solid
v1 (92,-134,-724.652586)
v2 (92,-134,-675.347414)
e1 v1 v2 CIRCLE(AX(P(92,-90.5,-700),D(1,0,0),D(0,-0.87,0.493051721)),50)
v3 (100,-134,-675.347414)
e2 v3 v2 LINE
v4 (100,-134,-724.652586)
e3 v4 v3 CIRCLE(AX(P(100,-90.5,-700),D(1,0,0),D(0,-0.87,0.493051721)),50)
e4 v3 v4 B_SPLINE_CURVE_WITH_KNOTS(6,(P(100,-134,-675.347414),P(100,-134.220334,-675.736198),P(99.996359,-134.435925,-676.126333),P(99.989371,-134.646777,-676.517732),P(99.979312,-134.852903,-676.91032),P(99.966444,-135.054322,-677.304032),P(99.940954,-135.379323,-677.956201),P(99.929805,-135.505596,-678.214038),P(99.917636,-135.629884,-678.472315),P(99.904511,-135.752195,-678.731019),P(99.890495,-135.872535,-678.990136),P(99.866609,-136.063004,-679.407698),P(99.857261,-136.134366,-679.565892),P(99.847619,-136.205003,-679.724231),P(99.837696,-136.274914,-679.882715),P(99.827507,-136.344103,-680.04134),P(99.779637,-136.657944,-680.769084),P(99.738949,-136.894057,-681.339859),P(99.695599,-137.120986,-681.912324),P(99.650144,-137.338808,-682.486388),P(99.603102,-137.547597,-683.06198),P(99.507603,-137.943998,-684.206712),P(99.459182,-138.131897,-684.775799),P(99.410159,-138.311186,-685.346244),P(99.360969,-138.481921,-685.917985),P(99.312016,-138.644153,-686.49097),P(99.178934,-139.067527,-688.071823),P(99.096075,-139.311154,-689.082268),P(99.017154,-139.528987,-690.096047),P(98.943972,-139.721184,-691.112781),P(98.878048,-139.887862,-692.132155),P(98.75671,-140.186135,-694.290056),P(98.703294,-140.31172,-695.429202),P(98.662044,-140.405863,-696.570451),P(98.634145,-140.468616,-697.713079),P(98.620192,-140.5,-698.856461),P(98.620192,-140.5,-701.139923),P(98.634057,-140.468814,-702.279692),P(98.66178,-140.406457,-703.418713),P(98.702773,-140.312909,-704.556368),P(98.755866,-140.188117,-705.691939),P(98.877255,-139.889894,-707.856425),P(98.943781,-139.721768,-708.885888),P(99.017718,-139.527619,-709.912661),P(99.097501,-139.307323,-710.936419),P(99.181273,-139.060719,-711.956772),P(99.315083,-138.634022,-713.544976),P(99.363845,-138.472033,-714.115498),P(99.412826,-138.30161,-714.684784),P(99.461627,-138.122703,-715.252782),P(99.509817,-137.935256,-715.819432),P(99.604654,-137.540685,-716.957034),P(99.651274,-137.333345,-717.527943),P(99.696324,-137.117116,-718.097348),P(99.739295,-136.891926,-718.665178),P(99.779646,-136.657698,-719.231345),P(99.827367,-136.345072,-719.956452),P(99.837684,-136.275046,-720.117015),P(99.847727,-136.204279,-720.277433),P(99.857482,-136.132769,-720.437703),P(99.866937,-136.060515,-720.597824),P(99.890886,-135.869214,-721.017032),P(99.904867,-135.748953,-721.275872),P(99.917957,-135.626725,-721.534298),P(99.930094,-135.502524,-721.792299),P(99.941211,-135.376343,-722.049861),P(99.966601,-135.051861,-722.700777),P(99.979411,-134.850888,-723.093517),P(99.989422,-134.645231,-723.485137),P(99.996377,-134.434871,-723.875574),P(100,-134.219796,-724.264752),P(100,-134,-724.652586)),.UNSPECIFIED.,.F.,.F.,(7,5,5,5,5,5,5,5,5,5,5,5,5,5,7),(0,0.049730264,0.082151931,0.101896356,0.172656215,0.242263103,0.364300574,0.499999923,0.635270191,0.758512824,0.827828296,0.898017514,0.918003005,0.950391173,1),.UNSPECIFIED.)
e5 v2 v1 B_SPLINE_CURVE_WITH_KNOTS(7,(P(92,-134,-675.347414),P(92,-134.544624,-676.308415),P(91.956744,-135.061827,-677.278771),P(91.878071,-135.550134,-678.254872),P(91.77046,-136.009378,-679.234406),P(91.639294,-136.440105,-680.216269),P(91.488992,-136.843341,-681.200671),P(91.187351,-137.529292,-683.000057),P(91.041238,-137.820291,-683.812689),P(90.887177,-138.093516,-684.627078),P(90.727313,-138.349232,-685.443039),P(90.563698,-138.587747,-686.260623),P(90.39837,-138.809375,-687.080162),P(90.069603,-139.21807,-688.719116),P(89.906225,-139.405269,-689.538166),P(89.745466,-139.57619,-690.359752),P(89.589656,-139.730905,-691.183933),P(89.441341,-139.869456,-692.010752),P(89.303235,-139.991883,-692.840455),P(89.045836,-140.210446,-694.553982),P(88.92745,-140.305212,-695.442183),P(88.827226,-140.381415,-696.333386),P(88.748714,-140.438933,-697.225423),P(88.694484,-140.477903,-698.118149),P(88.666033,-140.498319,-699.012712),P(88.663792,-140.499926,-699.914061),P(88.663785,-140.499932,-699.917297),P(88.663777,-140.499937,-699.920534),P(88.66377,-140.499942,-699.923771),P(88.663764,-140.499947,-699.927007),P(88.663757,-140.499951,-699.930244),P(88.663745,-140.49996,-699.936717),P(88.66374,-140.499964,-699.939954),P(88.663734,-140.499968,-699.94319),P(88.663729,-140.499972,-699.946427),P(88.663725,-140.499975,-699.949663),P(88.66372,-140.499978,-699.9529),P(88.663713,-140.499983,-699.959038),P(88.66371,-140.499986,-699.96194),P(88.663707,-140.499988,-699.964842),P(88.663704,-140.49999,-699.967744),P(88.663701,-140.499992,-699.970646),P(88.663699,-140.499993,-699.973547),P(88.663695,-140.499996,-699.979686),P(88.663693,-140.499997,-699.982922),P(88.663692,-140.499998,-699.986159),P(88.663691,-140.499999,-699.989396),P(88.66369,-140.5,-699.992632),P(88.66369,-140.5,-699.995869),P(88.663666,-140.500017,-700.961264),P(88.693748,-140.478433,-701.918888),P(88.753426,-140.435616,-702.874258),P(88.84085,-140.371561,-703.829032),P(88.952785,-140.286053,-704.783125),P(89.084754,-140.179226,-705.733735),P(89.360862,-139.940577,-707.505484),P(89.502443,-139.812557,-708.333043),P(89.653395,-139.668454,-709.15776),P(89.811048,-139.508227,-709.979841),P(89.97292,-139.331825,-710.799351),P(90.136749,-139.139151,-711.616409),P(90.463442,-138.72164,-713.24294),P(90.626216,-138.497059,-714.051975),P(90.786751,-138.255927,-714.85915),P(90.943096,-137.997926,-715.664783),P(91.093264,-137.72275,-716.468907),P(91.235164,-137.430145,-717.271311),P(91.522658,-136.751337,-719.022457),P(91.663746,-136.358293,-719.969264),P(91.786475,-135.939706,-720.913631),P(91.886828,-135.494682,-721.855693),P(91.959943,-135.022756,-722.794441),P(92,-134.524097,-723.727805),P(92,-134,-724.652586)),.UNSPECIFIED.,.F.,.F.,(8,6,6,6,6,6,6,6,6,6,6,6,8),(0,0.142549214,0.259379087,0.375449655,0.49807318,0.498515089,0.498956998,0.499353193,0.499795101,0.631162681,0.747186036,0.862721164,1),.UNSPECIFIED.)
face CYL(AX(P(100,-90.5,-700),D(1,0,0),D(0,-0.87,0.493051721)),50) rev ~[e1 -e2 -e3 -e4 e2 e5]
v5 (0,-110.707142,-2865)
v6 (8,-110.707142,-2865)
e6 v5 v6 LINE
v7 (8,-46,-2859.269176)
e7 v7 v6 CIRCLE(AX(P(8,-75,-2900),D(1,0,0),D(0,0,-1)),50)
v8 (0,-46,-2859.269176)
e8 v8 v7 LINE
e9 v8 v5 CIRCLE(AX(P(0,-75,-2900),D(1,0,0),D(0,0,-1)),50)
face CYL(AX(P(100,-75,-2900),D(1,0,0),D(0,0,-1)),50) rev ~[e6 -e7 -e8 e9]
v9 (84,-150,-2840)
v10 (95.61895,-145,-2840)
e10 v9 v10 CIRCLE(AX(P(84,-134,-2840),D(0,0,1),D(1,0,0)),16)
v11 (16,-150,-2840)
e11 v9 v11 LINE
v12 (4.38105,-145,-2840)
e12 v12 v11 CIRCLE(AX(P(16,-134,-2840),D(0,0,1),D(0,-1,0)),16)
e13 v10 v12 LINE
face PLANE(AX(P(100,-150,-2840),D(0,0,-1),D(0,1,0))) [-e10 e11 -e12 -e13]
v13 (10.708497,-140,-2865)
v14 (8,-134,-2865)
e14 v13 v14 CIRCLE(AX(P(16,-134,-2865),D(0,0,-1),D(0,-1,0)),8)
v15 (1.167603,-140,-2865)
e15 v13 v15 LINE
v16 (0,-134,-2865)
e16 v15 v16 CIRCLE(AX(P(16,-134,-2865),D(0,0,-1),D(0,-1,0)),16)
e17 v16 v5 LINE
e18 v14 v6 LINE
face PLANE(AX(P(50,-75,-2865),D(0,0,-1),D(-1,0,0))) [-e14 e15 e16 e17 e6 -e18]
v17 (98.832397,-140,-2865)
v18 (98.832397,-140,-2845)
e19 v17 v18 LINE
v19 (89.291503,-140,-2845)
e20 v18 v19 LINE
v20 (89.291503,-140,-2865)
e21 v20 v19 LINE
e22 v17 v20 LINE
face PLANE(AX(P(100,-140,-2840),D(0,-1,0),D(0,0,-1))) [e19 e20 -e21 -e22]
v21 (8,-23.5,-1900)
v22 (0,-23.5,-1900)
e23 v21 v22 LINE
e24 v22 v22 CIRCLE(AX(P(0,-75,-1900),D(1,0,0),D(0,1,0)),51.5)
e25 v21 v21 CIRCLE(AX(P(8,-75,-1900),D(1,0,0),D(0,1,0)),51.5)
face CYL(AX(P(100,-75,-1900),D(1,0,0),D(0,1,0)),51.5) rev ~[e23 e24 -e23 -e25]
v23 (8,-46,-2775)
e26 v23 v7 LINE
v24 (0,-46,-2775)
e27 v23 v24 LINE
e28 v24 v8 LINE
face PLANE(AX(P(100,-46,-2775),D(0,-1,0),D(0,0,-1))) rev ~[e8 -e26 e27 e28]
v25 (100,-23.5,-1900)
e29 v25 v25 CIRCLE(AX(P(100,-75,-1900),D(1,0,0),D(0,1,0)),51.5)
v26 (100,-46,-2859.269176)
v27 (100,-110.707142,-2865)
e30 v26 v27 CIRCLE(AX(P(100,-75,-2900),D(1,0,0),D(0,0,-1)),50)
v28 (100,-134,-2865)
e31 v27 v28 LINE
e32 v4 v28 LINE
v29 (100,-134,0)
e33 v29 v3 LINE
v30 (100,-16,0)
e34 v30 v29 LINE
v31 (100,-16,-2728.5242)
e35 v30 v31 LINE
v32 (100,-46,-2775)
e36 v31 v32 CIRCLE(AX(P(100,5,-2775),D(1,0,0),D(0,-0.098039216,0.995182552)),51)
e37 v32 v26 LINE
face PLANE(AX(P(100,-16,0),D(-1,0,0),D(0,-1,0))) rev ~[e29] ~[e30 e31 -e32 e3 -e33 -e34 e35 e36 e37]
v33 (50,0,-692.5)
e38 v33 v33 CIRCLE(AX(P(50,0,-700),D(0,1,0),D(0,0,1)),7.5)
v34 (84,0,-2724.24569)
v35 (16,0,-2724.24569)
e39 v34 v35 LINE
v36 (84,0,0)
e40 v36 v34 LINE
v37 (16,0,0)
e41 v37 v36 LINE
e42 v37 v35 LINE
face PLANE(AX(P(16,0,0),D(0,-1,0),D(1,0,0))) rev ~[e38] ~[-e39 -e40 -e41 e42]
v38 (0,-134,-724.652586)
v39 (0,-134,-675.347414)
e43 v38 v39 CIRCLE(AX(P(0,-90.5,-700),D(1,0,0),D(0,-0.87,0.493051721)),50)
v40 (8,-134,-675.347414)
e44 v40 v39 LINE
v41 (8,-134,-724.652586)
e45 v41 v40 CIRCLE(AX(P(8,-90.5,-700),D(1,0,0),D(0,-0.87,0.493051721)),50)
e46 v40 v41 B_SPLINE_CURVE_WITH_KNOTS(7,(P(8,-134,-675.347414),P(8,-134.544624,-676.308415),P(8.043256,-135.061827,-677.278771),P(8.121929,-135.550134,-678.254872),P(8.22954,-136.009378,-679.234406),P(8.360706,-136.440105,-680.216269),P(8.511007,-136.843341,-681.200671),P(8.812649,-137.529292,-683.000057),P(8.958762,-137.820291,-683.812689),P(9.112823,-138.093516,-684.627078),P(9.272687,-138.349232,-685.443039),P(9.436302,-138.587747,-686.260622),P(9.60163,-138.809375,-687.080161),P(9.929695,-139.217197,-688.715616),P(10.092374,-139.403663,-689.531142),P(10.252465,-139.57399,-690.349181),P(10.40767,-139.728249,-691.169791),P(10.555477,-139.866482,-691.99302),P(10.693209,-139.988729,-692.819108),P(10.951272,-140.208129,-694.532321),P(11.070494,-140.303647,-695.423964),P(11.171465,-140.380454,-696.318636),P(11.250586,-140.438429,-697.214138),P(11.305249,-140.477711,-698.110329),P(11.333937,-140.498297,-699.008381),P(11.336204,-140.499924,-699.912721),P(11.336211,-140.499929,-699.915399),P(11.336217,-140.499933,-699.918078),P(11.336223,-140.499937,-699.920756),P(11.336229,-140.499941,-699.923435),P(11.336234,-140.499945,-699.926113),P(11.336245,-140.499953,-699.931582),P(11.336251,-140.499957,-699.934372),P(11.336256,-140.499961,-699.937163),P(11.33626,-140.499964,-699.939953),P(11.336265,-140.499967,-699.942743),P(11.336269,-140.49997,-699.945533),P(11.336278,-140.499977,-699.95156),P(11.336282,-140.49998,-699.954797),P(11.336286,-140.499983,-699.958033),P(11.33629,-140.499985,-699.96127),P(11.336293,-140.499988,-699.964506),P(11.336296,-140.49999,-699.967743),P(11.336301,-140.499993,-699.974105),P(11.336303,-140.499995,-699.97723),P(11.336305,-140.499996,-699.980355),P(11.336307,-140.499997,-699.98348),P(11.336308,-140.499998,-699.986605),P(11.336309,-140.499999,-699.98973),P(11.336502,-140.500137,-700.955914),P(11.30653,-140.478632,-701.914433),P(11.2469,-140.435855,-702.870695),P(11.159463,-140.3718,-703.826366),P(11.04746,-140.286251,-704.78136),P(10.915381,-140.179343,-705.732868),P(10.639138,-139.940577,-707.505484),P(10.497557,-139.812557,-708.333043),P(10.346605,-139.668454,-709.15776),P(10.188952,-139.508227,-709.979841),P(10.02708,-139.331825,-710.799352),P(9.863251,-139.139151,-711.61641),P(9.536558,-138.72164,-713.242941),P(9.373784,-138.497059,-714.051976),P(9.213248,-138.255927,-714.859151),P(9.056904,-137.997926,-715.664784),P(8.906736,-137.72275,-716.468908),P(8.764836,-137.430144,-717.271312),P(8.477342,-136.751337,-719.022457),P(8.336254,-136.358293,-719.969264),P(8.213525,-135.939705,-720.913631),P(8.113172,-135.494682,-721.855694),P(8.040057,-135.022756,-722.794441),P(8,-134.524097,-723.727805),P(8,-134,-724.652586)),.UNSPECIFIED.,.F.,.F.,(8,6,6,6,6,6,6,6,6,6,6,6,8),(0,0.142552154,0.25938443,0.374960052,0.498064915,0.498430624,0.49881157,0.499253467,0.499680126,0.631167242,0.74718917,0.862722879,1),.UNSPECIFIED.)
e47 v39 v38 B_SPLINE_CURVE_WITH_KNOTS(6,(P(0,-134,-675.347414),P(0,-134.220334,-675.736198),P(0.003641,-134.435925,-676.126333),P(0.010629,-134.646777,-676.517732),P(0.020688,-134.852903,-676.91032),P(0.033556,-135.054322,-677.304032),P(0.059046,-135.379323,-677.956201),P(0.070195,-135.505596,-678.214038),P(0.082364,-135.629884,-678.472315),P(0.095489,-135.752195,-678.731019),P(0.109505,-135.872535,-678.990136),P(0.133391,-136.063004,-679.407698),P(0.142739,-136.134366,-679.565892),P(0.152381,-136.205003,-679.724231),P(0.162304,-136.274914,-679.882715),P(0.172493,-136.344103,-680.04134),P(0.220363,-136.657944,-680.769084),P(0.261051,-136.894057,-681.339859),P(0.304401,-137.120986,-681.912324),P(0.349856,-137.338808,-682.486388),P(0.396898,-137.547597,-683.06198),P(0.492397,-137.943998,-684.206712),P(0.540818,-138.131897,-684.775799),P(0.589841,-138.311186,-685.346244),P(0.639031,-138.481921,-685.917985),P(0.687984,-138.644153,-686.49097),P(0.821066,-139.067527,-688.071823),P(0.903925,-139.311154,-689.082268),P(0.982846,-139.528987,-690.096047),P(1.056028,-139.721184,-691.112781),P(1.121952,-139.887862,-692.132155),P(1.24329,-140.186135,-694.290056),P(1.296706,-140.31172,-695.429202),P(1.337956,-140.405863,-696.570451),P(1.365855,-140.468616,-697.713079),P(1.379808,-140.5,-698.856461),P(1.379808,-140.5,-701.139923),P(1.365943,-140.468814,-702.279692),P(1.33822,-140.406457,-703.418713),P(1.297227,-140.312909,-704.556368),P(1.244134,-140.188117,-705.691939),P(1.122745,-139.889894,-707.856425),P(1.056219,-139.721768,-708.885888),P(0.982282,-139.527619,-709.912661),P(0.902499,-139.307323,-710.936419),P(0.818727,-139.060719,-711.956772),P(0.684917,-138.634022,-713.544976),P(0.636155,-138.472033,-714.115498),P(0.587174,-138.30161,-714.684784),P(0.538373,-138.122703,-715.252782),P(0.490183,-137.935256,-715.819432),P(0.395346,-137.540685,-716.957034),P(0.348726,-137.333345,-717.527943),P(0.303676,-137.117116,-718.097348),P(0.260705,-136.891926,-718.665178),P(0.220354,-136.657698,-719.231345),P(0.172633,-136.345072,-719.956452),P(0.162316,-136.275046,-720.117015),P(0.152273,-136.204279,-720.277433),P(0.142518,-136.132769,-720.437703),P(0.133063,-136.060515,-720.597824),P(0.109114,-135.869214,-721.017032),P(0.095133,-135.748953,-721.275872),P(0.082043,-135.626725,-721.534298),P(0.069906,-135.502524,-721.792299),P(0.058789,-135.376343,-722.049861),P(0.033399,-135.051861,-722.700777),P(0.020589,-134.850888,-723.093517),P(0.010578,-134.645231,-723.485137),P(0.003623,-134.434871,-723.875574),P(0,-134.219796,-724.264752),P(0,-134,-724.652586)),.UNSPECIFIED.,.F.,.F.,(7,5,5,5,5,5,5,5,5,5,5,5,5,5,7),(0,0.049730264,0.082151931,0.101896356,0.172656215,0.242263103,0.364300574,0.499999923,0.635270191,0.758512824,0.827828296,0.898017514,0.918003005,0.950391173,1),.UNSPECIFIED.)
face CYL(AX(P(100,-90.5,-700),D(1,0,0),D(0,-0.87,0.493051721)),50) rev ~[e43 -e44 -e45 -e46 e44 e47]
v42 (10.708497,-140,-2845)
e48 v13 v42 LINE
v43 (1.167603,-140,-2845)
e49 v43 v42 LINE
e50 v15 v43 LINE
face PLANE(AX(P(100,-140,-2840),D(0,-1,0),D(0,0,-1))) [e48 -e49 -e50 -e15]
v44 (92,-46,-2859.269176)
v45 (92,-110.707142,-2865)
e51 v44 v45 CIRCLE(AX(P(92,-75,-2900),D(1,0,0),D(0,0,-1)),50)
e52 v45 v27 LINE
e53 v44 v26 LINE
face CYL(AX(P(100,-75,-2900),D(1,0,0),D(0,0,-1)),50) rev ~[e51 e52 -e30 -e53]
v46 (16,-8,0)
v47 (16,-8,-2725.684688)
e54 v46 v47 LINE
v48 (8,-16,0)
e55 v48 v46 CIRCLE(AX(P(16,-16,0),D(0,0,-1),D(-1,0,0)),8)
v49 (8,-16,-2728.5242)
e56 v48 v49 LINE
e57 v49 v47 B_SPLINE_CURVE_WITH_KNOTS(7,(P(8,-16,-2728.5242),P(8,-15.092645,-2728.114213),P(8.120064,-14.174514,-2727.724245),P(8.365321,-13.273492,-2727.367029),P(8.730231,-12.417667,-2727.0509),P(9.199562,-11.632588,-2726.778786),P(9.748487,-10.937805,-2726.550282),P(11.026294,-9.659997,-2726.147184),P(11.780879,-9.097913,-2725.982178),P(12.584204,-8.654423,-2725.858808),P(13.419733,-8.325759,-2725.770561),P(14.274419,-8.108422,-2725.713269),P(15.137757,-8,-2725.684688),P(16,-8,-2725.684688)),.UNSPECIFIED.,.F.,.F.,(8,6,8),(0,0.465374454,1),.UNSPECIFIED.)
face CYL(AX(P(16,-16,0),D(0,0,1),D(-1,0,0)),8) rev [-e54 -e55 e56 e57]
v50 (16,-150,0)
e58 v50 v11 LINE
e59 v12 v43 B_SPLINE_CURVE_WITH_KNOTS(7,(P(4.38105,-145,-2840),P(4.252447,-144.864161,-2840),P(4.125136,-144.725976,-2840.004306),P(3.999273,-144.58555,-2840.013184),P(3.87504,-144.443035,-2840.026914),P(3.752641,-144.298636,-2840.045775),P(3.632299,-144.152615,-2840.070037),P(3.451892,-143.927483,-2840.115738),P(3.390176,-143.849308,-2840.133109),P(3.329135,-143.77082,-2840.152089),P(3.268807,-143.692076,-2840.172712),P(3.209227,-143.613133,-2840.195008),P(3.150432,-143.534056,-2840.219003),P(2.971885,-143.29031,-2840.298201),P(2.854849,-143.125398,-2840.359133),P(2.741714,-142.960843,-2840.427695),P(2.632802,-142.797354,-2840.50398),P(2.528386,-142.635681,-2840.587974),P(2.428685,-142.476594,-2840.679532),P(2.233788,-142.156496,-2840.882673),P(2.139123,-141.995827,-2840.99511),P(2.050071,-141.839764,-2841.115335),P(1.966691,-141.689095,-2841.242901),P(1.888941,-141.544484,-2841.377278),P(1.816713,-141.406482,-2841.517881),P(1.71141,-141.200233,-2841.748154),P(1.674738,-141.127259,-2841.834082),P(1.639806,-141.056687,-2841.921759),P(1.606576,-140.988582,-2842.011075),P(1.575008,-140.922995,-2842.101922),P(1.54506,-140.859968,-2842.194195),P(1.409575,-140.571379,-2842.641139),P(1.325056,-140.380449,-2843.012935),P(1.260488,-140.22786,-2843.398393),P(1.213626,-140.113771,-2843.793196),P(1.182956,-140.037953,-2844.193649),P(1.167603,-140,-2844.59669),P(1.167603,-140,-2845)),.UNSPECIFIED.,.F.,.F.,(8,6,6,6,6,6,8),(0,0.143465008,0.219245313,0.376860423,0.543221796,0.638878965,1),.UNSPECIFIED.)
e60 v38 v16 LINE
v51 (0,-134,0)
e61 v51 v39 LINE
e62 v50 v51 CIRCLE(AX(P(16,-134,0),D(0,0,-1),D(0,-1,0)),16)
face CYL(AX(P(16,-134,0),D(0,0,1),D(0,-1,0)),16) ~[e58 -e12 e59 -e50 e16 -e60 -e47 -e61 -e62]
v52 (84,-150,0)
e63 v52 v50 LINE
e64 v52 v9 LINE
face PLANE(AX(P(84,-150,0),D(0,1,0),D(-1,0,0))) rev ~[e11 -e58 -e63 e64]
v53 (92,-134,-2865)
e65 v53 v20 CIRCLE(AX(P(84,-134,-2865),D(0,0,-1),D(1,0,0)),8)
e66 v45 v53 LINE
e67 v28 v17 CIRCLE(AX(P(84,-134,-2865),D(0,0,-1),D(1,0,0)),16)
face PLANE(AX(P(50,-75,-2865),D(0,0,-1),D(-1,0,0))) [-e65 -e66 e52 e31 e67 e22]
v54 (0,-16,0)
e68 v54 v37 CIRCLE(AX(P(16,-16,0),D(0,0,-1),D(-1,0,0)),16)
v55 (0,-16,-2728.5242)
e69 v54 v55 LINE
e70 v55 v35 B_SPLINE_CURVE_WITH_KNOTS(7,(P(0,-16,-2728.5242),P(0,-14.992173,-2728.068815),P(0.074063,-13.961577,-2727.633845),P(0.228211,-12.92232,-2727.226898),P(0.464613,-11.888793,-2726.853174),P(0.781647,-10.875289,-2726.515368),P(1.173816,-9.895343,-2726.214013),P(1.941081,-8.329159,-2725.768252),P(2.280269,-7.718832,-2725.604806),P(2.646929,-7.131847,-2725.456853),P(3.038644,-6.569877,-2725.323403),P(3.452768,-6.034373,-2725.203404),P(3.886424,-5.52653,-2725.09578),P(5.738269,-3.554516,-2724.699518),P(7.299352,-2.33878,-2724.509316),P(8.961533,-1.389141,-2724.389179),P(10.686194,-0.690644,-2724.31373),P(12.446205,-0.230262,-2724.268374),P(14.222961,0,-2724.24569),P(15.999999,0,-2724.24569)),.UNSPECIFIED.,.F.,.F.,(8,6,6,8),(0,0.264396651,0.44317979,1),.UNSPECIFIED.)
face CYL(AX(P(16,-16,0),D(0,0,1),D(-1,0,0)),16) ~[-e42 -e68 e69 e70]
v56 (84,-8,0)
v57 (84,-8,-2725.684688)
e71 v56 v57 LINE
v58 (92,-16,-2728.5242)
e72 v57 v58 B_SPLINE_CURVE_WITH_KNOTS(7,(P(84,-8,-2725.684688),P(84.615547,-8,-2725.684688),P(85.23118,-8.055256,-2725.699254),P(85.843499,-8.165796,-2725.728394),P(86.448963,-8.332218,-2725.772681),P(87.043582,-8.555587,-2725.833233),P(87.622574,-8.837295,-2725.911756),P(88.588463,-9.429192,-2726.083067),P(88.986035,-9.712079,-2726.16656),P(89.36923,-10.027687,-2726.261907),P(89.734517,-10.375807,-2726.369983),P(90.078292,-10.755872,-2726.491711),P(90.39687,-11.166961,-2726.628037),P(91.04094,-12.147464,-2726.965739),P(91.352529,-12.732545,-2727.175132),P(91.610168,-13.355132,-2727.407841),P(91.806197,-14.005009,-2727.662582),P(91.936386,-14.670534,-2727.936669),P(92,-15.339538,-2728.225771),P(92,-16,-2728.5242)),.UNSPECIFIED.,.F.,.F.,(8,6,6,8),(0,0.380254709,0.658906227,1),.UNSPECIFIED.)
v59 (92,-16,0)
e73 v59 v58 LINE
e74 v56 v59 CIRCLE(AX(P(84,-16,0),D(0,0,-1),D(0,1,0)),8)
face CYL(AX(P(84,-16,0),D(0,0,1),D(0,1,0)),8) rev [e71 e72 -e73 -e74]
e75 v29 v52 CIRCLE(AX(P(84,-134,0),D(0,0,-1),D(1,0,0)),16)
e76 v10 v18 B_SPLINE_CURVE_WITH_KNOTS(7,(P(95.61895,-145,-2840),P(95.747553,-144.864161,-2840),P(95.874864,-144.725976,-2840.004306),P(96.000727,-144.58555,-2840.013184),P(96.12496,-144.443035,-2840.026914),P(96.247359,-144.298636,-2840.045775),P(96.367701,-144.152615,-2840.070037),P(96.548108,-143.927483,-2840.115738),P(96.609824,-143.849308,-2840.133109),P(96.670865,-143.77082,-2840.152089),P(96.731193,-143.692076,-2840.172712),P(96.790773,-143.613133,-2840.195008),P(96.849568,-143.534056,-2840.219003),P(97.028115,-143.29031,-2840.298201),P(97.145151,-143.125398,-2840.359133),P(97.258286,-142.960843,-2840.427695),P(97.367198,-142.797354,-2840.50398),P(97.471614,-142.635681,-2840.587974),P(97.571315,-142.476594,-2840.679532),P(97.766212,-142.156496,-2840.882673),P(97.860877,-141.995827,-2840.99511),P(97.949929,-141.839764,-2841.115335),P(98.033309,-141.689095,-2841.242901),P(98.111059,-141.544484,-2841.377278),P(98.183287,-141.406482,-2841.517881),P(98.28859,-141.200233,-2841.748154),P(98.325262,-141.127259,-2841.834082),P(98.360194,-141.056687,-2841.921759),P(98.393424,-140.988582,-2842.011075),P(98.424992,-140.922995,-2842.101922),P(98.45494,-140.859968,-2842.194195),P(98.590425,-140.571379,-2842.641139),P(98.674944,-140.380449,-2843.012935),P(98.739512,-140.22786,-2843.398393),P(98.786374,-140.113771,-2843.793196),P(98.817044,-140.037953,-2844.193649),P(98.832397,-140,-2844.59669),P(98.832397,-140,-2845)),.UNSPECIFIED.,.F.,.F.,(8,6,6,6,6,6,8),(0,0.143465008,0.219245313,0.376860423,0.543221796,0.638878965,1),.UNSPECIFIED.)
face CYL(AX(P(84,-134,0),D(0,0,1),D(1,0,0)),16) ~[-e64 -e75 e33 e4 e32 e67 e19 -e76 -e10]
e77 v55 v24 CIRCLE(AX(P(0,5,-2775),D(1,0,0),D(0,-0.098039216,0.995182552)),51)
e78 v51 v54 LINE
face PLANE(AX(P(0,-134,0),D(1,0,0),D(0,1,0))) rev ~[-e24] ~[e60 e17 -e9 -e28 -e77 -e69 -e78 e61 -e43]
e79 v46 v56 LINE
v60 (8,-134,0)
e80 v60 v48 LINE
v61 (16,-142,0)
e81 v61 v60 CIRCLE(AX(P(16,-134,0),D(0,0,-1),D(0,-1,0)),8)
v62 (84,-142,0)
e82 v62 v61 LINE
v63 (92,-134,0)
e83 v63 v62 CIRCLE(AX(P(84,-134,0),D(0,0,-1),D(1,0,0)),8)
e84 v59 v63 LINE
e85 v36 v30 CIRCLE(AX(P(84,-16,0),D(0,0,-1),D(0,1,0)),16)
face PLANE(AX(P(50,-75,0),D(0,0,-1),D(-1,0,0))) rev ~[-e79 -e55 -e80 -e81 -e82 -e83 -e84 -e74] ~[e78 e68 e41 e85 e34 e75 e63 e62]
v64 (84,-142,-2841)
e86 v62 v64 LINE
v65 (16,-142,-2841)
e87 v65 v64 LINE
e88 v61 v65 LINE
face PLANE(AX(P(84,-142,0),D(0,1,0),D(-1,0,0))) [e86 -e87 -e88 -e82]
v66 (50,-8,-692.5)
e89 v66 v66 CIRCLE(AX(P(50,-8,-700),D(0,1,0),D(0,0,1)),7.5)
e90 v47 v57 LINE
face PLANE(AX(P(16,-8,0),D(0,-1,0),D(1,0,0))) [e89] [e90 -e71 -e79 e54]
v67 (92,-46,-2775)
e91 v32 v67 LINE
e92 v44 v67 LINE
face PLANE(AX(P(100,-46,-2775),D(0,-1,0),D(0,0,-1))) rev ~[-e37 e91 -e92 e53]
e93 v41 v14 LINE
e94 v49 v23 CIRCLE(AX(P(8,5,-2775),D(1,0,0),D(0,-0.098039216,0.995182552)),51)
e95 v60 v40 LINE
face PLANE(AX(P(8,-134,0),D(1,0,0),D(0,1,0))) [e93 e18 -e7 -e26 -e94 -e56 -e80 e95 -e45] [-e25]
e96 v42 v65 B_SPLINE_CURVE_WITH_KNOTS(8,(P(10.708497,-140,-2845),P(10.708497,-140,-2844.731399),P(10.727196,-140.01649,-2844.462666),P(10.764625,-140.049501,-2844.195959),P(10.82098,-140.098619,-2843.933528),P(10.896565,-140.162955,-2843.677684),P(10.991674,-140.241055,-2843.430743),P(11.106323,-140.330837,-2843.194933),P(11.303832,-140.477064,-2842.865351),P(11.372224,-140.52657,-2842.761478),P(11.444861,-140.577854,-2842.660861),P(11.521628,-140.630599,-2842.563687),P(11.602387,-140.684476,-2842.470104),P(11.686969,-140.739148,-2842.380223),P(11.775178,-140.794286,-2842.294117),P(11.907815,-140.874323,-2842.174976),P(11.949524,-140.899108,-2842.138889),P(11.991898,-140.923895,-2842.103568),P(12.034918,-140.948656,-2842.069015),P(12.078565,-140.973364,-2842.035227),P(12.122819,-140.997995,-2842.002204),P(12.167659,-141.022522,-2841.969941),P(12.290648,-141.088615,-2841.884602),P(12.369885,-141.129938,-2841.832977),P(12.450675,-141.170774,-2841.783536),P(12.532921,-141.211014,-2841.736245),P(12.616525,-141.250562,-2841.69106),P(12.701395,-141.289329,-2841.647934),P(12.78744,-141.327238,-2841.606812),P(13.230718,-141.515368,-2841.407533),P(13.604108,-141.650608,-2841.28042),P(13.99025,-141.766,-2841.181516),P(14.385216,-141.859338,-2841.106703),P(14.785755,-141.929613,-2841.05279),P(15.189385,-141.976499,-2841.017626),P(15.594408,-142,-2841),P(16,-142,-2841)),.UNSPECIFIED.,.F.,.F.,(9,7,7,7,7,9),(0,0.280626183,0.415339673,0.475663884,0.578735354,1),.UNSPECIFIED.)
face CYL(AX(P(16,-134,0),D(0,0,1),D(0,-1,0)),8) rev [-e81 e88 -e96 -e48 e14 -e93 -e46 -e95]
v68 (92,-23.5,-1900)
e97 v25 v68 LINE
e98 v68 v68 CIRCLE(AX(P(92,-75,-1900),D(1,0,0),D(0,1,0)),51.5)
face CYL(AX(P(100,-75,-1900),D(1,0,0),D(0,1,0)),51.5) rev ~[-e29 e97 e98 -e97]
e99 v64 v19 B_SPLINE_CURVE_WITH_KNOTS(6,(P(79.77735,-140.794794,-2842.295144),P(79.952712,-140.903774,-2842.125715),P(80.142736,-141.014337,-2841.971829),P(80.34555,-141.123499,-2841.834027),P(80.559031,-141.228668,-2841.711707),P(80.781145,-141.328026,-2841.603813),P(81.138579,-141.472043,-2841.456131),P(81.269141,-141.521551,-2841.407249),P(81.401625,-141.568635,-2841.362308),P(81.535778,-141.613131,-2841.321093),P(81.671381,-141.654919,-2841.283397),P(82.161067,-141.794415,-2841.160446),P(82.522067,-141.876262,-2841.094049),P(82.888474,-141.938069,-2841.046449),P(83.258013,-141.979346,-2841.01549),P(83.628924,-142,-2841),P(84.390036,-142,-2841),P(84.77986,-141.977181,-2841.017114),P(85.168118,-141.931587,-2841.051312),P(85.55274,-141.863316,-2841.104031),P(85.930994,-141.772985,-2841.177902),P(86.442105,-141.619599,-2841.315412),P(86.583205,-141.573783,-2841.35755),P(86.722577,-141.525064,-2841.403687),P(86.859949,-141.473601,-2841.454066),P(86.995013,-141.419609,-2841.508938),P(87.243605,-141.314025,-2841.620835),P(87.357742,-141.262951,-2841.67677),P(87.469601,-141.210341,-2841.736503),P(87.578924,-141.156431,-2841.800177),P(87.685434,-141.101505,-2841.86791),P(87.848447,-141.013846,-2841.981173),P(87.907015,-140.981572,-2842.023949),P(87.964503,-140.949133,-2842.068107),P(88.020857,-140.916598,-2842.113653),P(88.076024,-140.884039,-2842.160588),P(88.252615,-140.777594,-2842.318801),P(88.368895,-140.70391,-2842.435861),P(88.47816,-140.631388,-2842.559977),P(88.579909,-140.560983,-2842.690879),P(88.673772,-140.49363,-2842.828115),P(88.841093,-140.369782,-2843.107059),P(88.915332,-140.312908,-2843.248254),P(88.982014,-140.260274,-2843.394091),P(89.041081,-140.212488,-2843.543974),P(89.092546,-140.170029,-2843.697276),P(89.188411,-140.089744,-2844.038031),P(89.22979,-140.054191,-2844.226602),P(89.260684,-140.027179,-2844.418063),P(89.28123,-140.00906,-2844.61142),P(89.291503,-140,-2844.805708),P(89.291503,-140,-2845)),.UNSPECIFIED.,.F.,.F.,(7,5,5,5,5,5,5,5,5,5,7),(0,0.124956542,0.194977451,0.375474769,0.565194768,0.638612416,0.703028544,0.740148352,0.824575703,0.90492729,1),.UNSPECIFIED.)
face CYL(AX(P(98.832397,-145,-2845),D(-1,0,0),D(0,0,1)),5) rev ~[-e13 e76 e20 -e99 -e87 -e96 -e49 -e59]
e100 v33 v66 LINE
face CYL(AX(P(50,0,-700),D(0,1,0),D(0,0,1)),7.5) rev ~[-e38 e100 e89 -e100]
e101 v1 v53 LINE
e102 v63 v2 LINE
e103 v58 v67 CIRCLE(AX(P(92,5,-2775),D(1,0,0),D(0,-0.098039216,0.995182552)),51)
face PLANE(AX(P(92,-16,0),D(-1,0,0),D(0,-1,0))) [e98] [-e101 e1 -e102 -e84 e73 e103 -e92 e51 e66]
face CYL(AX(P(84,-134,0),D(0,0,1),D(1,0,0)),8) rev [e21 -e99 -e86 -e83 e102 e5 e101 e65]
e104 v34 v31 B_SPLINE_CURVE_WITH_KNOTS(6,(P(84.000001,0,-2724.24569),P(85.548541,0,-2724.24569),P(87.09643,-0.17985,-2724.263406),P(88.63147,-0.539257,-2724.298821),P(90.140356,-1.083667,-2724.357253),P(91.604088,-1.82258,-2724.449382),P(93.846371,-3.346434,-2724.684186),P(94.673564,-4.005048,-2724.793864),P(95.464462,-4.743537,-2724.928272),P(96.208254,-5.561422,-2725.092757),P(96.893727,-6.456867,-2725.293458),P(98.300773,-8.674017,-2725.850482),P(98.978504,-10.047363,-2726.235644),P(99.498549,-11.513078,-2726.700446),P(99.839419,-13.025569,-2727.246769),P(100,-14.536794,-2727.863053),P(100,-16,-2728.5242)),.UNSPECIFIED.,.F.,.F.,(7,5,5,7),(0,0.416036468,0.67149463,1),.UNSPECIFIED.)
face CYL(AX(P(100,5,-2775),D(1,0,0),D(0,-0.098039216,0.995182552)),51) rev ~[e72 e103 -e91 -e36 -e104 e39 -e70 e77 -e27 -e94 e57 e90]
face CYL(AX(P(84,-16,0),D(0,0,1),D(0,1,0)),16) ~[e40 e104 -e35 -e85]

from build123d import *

# Parameters (mm, degrees)
EXTRUDE_1_DEPTH     = 2865
SKETCH_4_R          = 50
CUT_EXTRUDE_3_DEPTH = 2871.666298963
SKETCH_3_R          = 50
SKETCH_3_R_2        = 51.5
SKETCH_3_W          = 25
SKETCH_3_H          = 10
CUT_EXTRUDE_2_DEPTH = 2871.666298963
FILLET_2_R          = 5
CUT_EXTRUDE_4_REACH = 2872.666
SKETCH_5_R          = 7.5


with BuildPart() as part:
    # 草图1 → 凸台-拉伸1 (new body)
    with BuildSketch(Plane.XY):
        with BuildLine():
            Line((16, 0), (84, 0))
            ThreePointArc((84, 0), (95.313708499, -4.686291501), (100, -16))
            Line((100, -16), (100, -134))
            ThreePointArc((100, -134), (95.313708499, -145.313708499), (84, -150))
            Line((84, -150), (16, -150))
            ThreePointArc((16, -150), (4.686291501, -145.313708499), (0, -134))
            Line((0, -134), (0, -16))
            ThreePointArc((0, -16), (4.686291501, -4.686291501), (16, 0))
        make_face()
        with BuildLine():
            Line((16, -8), (84, -8))
            ThreePointArc((84, -8), (89.656854249, -10.343145751), (92, -16))
            Line((92, -16), (92, -134))
            ThreePointArc((92, -134), (89.656854249, -139.656854249), (84, -142))
            Line((84, -142), (16, -142))
            ThreePointArc((16, -142), (10.343145751, -139.656854249), (8, -134))
            Line((8, -134), (8, -16))
            ThreePointArc((8, -16), (10.343145751, -10.343145751), (16, -8))
        make_face(mode=Mode.SUBTRACT)
    extrude(amount=-EXTRUDE_1_DEPTH)

    # 草图4 → 切除-拉伸3 (cut, through all)
    with BuildSketch(Plane(origin=(100, 0, 0), x_dir=(0, 0, -1), z_dir=(1, 0, 0))):
        with Locations((2900, -75)):
            Circle(SKETCH_4_R)
    extrude(amount=-CUT_EXTRUDE_3_DEPTH, mode=Mode.SUBTRACT)

    # 草图3 → 切除-拉伸2 (cut, through all)
    with BuildSketch(Plane(origin=(100, 0, 0), x_dir=(0, 0, -1), z_dir=(1, 0, 0))):
        with Locations(Location((700, -90.5, 0), (0, 0, 240.4586395))):
            Circle(SKETCH_3_R)
        with Locations(Location((1900, -75, 0), (0, 0, 90))):
            Circle(SKETCH_3_R_2)
        with BuildLine():
            Line((2775, -46), (2865, -46))
            Line((2865, -46), (2865, 0))
            Line((2865, 0), (2724.245689838, 0))
            ThreePointArc((2724.245689838, 0), (2740.750912421, -32.788887255), (2775, -46))
        make_face()
        with Locations((2852.5, -145)):
            Rectangle(SKETCH_3_W, SKETCH_3_H)
    extrude(amount=-CUT_EXTRUDE_2_DEPTH, mode=Mode.SUBTRACT)

    # 圆角2
    fillet_2_edges = [part.edges().sort_by_distance(p)[0] for p in [
        (94.061949798, -140, -2840),
    ]]
    fillet(fillet_2_edges, radius=FILLET_2_R)

    # 草图5 → 切除-拉伸4 (cut, up to next)
    with BuildSketch(Plane(origin=(0, 0, 0), x_dir=(1, 0, 0), z_dir=(0, 1, 0)), mode=Mode.PRIVATE) as cut_extrude_4_sk1:
        with Locations(Location((50, 700, 0), (0, 0, 270))):
            Circle(SKETCH_5_R)
    cut_extrude_4_tool1 = extrude(cut_extrude_4_sk1.sketch, amount=-CUT_EXTRUDE_4_REACH, mode=Mode.PRIVATE) & part.part
    add(cut_extrude_4_tool1.solids().sort_by_distance((50, 0, -700))[0], mode=Mode.SUBTRACT)


solid = part.part
